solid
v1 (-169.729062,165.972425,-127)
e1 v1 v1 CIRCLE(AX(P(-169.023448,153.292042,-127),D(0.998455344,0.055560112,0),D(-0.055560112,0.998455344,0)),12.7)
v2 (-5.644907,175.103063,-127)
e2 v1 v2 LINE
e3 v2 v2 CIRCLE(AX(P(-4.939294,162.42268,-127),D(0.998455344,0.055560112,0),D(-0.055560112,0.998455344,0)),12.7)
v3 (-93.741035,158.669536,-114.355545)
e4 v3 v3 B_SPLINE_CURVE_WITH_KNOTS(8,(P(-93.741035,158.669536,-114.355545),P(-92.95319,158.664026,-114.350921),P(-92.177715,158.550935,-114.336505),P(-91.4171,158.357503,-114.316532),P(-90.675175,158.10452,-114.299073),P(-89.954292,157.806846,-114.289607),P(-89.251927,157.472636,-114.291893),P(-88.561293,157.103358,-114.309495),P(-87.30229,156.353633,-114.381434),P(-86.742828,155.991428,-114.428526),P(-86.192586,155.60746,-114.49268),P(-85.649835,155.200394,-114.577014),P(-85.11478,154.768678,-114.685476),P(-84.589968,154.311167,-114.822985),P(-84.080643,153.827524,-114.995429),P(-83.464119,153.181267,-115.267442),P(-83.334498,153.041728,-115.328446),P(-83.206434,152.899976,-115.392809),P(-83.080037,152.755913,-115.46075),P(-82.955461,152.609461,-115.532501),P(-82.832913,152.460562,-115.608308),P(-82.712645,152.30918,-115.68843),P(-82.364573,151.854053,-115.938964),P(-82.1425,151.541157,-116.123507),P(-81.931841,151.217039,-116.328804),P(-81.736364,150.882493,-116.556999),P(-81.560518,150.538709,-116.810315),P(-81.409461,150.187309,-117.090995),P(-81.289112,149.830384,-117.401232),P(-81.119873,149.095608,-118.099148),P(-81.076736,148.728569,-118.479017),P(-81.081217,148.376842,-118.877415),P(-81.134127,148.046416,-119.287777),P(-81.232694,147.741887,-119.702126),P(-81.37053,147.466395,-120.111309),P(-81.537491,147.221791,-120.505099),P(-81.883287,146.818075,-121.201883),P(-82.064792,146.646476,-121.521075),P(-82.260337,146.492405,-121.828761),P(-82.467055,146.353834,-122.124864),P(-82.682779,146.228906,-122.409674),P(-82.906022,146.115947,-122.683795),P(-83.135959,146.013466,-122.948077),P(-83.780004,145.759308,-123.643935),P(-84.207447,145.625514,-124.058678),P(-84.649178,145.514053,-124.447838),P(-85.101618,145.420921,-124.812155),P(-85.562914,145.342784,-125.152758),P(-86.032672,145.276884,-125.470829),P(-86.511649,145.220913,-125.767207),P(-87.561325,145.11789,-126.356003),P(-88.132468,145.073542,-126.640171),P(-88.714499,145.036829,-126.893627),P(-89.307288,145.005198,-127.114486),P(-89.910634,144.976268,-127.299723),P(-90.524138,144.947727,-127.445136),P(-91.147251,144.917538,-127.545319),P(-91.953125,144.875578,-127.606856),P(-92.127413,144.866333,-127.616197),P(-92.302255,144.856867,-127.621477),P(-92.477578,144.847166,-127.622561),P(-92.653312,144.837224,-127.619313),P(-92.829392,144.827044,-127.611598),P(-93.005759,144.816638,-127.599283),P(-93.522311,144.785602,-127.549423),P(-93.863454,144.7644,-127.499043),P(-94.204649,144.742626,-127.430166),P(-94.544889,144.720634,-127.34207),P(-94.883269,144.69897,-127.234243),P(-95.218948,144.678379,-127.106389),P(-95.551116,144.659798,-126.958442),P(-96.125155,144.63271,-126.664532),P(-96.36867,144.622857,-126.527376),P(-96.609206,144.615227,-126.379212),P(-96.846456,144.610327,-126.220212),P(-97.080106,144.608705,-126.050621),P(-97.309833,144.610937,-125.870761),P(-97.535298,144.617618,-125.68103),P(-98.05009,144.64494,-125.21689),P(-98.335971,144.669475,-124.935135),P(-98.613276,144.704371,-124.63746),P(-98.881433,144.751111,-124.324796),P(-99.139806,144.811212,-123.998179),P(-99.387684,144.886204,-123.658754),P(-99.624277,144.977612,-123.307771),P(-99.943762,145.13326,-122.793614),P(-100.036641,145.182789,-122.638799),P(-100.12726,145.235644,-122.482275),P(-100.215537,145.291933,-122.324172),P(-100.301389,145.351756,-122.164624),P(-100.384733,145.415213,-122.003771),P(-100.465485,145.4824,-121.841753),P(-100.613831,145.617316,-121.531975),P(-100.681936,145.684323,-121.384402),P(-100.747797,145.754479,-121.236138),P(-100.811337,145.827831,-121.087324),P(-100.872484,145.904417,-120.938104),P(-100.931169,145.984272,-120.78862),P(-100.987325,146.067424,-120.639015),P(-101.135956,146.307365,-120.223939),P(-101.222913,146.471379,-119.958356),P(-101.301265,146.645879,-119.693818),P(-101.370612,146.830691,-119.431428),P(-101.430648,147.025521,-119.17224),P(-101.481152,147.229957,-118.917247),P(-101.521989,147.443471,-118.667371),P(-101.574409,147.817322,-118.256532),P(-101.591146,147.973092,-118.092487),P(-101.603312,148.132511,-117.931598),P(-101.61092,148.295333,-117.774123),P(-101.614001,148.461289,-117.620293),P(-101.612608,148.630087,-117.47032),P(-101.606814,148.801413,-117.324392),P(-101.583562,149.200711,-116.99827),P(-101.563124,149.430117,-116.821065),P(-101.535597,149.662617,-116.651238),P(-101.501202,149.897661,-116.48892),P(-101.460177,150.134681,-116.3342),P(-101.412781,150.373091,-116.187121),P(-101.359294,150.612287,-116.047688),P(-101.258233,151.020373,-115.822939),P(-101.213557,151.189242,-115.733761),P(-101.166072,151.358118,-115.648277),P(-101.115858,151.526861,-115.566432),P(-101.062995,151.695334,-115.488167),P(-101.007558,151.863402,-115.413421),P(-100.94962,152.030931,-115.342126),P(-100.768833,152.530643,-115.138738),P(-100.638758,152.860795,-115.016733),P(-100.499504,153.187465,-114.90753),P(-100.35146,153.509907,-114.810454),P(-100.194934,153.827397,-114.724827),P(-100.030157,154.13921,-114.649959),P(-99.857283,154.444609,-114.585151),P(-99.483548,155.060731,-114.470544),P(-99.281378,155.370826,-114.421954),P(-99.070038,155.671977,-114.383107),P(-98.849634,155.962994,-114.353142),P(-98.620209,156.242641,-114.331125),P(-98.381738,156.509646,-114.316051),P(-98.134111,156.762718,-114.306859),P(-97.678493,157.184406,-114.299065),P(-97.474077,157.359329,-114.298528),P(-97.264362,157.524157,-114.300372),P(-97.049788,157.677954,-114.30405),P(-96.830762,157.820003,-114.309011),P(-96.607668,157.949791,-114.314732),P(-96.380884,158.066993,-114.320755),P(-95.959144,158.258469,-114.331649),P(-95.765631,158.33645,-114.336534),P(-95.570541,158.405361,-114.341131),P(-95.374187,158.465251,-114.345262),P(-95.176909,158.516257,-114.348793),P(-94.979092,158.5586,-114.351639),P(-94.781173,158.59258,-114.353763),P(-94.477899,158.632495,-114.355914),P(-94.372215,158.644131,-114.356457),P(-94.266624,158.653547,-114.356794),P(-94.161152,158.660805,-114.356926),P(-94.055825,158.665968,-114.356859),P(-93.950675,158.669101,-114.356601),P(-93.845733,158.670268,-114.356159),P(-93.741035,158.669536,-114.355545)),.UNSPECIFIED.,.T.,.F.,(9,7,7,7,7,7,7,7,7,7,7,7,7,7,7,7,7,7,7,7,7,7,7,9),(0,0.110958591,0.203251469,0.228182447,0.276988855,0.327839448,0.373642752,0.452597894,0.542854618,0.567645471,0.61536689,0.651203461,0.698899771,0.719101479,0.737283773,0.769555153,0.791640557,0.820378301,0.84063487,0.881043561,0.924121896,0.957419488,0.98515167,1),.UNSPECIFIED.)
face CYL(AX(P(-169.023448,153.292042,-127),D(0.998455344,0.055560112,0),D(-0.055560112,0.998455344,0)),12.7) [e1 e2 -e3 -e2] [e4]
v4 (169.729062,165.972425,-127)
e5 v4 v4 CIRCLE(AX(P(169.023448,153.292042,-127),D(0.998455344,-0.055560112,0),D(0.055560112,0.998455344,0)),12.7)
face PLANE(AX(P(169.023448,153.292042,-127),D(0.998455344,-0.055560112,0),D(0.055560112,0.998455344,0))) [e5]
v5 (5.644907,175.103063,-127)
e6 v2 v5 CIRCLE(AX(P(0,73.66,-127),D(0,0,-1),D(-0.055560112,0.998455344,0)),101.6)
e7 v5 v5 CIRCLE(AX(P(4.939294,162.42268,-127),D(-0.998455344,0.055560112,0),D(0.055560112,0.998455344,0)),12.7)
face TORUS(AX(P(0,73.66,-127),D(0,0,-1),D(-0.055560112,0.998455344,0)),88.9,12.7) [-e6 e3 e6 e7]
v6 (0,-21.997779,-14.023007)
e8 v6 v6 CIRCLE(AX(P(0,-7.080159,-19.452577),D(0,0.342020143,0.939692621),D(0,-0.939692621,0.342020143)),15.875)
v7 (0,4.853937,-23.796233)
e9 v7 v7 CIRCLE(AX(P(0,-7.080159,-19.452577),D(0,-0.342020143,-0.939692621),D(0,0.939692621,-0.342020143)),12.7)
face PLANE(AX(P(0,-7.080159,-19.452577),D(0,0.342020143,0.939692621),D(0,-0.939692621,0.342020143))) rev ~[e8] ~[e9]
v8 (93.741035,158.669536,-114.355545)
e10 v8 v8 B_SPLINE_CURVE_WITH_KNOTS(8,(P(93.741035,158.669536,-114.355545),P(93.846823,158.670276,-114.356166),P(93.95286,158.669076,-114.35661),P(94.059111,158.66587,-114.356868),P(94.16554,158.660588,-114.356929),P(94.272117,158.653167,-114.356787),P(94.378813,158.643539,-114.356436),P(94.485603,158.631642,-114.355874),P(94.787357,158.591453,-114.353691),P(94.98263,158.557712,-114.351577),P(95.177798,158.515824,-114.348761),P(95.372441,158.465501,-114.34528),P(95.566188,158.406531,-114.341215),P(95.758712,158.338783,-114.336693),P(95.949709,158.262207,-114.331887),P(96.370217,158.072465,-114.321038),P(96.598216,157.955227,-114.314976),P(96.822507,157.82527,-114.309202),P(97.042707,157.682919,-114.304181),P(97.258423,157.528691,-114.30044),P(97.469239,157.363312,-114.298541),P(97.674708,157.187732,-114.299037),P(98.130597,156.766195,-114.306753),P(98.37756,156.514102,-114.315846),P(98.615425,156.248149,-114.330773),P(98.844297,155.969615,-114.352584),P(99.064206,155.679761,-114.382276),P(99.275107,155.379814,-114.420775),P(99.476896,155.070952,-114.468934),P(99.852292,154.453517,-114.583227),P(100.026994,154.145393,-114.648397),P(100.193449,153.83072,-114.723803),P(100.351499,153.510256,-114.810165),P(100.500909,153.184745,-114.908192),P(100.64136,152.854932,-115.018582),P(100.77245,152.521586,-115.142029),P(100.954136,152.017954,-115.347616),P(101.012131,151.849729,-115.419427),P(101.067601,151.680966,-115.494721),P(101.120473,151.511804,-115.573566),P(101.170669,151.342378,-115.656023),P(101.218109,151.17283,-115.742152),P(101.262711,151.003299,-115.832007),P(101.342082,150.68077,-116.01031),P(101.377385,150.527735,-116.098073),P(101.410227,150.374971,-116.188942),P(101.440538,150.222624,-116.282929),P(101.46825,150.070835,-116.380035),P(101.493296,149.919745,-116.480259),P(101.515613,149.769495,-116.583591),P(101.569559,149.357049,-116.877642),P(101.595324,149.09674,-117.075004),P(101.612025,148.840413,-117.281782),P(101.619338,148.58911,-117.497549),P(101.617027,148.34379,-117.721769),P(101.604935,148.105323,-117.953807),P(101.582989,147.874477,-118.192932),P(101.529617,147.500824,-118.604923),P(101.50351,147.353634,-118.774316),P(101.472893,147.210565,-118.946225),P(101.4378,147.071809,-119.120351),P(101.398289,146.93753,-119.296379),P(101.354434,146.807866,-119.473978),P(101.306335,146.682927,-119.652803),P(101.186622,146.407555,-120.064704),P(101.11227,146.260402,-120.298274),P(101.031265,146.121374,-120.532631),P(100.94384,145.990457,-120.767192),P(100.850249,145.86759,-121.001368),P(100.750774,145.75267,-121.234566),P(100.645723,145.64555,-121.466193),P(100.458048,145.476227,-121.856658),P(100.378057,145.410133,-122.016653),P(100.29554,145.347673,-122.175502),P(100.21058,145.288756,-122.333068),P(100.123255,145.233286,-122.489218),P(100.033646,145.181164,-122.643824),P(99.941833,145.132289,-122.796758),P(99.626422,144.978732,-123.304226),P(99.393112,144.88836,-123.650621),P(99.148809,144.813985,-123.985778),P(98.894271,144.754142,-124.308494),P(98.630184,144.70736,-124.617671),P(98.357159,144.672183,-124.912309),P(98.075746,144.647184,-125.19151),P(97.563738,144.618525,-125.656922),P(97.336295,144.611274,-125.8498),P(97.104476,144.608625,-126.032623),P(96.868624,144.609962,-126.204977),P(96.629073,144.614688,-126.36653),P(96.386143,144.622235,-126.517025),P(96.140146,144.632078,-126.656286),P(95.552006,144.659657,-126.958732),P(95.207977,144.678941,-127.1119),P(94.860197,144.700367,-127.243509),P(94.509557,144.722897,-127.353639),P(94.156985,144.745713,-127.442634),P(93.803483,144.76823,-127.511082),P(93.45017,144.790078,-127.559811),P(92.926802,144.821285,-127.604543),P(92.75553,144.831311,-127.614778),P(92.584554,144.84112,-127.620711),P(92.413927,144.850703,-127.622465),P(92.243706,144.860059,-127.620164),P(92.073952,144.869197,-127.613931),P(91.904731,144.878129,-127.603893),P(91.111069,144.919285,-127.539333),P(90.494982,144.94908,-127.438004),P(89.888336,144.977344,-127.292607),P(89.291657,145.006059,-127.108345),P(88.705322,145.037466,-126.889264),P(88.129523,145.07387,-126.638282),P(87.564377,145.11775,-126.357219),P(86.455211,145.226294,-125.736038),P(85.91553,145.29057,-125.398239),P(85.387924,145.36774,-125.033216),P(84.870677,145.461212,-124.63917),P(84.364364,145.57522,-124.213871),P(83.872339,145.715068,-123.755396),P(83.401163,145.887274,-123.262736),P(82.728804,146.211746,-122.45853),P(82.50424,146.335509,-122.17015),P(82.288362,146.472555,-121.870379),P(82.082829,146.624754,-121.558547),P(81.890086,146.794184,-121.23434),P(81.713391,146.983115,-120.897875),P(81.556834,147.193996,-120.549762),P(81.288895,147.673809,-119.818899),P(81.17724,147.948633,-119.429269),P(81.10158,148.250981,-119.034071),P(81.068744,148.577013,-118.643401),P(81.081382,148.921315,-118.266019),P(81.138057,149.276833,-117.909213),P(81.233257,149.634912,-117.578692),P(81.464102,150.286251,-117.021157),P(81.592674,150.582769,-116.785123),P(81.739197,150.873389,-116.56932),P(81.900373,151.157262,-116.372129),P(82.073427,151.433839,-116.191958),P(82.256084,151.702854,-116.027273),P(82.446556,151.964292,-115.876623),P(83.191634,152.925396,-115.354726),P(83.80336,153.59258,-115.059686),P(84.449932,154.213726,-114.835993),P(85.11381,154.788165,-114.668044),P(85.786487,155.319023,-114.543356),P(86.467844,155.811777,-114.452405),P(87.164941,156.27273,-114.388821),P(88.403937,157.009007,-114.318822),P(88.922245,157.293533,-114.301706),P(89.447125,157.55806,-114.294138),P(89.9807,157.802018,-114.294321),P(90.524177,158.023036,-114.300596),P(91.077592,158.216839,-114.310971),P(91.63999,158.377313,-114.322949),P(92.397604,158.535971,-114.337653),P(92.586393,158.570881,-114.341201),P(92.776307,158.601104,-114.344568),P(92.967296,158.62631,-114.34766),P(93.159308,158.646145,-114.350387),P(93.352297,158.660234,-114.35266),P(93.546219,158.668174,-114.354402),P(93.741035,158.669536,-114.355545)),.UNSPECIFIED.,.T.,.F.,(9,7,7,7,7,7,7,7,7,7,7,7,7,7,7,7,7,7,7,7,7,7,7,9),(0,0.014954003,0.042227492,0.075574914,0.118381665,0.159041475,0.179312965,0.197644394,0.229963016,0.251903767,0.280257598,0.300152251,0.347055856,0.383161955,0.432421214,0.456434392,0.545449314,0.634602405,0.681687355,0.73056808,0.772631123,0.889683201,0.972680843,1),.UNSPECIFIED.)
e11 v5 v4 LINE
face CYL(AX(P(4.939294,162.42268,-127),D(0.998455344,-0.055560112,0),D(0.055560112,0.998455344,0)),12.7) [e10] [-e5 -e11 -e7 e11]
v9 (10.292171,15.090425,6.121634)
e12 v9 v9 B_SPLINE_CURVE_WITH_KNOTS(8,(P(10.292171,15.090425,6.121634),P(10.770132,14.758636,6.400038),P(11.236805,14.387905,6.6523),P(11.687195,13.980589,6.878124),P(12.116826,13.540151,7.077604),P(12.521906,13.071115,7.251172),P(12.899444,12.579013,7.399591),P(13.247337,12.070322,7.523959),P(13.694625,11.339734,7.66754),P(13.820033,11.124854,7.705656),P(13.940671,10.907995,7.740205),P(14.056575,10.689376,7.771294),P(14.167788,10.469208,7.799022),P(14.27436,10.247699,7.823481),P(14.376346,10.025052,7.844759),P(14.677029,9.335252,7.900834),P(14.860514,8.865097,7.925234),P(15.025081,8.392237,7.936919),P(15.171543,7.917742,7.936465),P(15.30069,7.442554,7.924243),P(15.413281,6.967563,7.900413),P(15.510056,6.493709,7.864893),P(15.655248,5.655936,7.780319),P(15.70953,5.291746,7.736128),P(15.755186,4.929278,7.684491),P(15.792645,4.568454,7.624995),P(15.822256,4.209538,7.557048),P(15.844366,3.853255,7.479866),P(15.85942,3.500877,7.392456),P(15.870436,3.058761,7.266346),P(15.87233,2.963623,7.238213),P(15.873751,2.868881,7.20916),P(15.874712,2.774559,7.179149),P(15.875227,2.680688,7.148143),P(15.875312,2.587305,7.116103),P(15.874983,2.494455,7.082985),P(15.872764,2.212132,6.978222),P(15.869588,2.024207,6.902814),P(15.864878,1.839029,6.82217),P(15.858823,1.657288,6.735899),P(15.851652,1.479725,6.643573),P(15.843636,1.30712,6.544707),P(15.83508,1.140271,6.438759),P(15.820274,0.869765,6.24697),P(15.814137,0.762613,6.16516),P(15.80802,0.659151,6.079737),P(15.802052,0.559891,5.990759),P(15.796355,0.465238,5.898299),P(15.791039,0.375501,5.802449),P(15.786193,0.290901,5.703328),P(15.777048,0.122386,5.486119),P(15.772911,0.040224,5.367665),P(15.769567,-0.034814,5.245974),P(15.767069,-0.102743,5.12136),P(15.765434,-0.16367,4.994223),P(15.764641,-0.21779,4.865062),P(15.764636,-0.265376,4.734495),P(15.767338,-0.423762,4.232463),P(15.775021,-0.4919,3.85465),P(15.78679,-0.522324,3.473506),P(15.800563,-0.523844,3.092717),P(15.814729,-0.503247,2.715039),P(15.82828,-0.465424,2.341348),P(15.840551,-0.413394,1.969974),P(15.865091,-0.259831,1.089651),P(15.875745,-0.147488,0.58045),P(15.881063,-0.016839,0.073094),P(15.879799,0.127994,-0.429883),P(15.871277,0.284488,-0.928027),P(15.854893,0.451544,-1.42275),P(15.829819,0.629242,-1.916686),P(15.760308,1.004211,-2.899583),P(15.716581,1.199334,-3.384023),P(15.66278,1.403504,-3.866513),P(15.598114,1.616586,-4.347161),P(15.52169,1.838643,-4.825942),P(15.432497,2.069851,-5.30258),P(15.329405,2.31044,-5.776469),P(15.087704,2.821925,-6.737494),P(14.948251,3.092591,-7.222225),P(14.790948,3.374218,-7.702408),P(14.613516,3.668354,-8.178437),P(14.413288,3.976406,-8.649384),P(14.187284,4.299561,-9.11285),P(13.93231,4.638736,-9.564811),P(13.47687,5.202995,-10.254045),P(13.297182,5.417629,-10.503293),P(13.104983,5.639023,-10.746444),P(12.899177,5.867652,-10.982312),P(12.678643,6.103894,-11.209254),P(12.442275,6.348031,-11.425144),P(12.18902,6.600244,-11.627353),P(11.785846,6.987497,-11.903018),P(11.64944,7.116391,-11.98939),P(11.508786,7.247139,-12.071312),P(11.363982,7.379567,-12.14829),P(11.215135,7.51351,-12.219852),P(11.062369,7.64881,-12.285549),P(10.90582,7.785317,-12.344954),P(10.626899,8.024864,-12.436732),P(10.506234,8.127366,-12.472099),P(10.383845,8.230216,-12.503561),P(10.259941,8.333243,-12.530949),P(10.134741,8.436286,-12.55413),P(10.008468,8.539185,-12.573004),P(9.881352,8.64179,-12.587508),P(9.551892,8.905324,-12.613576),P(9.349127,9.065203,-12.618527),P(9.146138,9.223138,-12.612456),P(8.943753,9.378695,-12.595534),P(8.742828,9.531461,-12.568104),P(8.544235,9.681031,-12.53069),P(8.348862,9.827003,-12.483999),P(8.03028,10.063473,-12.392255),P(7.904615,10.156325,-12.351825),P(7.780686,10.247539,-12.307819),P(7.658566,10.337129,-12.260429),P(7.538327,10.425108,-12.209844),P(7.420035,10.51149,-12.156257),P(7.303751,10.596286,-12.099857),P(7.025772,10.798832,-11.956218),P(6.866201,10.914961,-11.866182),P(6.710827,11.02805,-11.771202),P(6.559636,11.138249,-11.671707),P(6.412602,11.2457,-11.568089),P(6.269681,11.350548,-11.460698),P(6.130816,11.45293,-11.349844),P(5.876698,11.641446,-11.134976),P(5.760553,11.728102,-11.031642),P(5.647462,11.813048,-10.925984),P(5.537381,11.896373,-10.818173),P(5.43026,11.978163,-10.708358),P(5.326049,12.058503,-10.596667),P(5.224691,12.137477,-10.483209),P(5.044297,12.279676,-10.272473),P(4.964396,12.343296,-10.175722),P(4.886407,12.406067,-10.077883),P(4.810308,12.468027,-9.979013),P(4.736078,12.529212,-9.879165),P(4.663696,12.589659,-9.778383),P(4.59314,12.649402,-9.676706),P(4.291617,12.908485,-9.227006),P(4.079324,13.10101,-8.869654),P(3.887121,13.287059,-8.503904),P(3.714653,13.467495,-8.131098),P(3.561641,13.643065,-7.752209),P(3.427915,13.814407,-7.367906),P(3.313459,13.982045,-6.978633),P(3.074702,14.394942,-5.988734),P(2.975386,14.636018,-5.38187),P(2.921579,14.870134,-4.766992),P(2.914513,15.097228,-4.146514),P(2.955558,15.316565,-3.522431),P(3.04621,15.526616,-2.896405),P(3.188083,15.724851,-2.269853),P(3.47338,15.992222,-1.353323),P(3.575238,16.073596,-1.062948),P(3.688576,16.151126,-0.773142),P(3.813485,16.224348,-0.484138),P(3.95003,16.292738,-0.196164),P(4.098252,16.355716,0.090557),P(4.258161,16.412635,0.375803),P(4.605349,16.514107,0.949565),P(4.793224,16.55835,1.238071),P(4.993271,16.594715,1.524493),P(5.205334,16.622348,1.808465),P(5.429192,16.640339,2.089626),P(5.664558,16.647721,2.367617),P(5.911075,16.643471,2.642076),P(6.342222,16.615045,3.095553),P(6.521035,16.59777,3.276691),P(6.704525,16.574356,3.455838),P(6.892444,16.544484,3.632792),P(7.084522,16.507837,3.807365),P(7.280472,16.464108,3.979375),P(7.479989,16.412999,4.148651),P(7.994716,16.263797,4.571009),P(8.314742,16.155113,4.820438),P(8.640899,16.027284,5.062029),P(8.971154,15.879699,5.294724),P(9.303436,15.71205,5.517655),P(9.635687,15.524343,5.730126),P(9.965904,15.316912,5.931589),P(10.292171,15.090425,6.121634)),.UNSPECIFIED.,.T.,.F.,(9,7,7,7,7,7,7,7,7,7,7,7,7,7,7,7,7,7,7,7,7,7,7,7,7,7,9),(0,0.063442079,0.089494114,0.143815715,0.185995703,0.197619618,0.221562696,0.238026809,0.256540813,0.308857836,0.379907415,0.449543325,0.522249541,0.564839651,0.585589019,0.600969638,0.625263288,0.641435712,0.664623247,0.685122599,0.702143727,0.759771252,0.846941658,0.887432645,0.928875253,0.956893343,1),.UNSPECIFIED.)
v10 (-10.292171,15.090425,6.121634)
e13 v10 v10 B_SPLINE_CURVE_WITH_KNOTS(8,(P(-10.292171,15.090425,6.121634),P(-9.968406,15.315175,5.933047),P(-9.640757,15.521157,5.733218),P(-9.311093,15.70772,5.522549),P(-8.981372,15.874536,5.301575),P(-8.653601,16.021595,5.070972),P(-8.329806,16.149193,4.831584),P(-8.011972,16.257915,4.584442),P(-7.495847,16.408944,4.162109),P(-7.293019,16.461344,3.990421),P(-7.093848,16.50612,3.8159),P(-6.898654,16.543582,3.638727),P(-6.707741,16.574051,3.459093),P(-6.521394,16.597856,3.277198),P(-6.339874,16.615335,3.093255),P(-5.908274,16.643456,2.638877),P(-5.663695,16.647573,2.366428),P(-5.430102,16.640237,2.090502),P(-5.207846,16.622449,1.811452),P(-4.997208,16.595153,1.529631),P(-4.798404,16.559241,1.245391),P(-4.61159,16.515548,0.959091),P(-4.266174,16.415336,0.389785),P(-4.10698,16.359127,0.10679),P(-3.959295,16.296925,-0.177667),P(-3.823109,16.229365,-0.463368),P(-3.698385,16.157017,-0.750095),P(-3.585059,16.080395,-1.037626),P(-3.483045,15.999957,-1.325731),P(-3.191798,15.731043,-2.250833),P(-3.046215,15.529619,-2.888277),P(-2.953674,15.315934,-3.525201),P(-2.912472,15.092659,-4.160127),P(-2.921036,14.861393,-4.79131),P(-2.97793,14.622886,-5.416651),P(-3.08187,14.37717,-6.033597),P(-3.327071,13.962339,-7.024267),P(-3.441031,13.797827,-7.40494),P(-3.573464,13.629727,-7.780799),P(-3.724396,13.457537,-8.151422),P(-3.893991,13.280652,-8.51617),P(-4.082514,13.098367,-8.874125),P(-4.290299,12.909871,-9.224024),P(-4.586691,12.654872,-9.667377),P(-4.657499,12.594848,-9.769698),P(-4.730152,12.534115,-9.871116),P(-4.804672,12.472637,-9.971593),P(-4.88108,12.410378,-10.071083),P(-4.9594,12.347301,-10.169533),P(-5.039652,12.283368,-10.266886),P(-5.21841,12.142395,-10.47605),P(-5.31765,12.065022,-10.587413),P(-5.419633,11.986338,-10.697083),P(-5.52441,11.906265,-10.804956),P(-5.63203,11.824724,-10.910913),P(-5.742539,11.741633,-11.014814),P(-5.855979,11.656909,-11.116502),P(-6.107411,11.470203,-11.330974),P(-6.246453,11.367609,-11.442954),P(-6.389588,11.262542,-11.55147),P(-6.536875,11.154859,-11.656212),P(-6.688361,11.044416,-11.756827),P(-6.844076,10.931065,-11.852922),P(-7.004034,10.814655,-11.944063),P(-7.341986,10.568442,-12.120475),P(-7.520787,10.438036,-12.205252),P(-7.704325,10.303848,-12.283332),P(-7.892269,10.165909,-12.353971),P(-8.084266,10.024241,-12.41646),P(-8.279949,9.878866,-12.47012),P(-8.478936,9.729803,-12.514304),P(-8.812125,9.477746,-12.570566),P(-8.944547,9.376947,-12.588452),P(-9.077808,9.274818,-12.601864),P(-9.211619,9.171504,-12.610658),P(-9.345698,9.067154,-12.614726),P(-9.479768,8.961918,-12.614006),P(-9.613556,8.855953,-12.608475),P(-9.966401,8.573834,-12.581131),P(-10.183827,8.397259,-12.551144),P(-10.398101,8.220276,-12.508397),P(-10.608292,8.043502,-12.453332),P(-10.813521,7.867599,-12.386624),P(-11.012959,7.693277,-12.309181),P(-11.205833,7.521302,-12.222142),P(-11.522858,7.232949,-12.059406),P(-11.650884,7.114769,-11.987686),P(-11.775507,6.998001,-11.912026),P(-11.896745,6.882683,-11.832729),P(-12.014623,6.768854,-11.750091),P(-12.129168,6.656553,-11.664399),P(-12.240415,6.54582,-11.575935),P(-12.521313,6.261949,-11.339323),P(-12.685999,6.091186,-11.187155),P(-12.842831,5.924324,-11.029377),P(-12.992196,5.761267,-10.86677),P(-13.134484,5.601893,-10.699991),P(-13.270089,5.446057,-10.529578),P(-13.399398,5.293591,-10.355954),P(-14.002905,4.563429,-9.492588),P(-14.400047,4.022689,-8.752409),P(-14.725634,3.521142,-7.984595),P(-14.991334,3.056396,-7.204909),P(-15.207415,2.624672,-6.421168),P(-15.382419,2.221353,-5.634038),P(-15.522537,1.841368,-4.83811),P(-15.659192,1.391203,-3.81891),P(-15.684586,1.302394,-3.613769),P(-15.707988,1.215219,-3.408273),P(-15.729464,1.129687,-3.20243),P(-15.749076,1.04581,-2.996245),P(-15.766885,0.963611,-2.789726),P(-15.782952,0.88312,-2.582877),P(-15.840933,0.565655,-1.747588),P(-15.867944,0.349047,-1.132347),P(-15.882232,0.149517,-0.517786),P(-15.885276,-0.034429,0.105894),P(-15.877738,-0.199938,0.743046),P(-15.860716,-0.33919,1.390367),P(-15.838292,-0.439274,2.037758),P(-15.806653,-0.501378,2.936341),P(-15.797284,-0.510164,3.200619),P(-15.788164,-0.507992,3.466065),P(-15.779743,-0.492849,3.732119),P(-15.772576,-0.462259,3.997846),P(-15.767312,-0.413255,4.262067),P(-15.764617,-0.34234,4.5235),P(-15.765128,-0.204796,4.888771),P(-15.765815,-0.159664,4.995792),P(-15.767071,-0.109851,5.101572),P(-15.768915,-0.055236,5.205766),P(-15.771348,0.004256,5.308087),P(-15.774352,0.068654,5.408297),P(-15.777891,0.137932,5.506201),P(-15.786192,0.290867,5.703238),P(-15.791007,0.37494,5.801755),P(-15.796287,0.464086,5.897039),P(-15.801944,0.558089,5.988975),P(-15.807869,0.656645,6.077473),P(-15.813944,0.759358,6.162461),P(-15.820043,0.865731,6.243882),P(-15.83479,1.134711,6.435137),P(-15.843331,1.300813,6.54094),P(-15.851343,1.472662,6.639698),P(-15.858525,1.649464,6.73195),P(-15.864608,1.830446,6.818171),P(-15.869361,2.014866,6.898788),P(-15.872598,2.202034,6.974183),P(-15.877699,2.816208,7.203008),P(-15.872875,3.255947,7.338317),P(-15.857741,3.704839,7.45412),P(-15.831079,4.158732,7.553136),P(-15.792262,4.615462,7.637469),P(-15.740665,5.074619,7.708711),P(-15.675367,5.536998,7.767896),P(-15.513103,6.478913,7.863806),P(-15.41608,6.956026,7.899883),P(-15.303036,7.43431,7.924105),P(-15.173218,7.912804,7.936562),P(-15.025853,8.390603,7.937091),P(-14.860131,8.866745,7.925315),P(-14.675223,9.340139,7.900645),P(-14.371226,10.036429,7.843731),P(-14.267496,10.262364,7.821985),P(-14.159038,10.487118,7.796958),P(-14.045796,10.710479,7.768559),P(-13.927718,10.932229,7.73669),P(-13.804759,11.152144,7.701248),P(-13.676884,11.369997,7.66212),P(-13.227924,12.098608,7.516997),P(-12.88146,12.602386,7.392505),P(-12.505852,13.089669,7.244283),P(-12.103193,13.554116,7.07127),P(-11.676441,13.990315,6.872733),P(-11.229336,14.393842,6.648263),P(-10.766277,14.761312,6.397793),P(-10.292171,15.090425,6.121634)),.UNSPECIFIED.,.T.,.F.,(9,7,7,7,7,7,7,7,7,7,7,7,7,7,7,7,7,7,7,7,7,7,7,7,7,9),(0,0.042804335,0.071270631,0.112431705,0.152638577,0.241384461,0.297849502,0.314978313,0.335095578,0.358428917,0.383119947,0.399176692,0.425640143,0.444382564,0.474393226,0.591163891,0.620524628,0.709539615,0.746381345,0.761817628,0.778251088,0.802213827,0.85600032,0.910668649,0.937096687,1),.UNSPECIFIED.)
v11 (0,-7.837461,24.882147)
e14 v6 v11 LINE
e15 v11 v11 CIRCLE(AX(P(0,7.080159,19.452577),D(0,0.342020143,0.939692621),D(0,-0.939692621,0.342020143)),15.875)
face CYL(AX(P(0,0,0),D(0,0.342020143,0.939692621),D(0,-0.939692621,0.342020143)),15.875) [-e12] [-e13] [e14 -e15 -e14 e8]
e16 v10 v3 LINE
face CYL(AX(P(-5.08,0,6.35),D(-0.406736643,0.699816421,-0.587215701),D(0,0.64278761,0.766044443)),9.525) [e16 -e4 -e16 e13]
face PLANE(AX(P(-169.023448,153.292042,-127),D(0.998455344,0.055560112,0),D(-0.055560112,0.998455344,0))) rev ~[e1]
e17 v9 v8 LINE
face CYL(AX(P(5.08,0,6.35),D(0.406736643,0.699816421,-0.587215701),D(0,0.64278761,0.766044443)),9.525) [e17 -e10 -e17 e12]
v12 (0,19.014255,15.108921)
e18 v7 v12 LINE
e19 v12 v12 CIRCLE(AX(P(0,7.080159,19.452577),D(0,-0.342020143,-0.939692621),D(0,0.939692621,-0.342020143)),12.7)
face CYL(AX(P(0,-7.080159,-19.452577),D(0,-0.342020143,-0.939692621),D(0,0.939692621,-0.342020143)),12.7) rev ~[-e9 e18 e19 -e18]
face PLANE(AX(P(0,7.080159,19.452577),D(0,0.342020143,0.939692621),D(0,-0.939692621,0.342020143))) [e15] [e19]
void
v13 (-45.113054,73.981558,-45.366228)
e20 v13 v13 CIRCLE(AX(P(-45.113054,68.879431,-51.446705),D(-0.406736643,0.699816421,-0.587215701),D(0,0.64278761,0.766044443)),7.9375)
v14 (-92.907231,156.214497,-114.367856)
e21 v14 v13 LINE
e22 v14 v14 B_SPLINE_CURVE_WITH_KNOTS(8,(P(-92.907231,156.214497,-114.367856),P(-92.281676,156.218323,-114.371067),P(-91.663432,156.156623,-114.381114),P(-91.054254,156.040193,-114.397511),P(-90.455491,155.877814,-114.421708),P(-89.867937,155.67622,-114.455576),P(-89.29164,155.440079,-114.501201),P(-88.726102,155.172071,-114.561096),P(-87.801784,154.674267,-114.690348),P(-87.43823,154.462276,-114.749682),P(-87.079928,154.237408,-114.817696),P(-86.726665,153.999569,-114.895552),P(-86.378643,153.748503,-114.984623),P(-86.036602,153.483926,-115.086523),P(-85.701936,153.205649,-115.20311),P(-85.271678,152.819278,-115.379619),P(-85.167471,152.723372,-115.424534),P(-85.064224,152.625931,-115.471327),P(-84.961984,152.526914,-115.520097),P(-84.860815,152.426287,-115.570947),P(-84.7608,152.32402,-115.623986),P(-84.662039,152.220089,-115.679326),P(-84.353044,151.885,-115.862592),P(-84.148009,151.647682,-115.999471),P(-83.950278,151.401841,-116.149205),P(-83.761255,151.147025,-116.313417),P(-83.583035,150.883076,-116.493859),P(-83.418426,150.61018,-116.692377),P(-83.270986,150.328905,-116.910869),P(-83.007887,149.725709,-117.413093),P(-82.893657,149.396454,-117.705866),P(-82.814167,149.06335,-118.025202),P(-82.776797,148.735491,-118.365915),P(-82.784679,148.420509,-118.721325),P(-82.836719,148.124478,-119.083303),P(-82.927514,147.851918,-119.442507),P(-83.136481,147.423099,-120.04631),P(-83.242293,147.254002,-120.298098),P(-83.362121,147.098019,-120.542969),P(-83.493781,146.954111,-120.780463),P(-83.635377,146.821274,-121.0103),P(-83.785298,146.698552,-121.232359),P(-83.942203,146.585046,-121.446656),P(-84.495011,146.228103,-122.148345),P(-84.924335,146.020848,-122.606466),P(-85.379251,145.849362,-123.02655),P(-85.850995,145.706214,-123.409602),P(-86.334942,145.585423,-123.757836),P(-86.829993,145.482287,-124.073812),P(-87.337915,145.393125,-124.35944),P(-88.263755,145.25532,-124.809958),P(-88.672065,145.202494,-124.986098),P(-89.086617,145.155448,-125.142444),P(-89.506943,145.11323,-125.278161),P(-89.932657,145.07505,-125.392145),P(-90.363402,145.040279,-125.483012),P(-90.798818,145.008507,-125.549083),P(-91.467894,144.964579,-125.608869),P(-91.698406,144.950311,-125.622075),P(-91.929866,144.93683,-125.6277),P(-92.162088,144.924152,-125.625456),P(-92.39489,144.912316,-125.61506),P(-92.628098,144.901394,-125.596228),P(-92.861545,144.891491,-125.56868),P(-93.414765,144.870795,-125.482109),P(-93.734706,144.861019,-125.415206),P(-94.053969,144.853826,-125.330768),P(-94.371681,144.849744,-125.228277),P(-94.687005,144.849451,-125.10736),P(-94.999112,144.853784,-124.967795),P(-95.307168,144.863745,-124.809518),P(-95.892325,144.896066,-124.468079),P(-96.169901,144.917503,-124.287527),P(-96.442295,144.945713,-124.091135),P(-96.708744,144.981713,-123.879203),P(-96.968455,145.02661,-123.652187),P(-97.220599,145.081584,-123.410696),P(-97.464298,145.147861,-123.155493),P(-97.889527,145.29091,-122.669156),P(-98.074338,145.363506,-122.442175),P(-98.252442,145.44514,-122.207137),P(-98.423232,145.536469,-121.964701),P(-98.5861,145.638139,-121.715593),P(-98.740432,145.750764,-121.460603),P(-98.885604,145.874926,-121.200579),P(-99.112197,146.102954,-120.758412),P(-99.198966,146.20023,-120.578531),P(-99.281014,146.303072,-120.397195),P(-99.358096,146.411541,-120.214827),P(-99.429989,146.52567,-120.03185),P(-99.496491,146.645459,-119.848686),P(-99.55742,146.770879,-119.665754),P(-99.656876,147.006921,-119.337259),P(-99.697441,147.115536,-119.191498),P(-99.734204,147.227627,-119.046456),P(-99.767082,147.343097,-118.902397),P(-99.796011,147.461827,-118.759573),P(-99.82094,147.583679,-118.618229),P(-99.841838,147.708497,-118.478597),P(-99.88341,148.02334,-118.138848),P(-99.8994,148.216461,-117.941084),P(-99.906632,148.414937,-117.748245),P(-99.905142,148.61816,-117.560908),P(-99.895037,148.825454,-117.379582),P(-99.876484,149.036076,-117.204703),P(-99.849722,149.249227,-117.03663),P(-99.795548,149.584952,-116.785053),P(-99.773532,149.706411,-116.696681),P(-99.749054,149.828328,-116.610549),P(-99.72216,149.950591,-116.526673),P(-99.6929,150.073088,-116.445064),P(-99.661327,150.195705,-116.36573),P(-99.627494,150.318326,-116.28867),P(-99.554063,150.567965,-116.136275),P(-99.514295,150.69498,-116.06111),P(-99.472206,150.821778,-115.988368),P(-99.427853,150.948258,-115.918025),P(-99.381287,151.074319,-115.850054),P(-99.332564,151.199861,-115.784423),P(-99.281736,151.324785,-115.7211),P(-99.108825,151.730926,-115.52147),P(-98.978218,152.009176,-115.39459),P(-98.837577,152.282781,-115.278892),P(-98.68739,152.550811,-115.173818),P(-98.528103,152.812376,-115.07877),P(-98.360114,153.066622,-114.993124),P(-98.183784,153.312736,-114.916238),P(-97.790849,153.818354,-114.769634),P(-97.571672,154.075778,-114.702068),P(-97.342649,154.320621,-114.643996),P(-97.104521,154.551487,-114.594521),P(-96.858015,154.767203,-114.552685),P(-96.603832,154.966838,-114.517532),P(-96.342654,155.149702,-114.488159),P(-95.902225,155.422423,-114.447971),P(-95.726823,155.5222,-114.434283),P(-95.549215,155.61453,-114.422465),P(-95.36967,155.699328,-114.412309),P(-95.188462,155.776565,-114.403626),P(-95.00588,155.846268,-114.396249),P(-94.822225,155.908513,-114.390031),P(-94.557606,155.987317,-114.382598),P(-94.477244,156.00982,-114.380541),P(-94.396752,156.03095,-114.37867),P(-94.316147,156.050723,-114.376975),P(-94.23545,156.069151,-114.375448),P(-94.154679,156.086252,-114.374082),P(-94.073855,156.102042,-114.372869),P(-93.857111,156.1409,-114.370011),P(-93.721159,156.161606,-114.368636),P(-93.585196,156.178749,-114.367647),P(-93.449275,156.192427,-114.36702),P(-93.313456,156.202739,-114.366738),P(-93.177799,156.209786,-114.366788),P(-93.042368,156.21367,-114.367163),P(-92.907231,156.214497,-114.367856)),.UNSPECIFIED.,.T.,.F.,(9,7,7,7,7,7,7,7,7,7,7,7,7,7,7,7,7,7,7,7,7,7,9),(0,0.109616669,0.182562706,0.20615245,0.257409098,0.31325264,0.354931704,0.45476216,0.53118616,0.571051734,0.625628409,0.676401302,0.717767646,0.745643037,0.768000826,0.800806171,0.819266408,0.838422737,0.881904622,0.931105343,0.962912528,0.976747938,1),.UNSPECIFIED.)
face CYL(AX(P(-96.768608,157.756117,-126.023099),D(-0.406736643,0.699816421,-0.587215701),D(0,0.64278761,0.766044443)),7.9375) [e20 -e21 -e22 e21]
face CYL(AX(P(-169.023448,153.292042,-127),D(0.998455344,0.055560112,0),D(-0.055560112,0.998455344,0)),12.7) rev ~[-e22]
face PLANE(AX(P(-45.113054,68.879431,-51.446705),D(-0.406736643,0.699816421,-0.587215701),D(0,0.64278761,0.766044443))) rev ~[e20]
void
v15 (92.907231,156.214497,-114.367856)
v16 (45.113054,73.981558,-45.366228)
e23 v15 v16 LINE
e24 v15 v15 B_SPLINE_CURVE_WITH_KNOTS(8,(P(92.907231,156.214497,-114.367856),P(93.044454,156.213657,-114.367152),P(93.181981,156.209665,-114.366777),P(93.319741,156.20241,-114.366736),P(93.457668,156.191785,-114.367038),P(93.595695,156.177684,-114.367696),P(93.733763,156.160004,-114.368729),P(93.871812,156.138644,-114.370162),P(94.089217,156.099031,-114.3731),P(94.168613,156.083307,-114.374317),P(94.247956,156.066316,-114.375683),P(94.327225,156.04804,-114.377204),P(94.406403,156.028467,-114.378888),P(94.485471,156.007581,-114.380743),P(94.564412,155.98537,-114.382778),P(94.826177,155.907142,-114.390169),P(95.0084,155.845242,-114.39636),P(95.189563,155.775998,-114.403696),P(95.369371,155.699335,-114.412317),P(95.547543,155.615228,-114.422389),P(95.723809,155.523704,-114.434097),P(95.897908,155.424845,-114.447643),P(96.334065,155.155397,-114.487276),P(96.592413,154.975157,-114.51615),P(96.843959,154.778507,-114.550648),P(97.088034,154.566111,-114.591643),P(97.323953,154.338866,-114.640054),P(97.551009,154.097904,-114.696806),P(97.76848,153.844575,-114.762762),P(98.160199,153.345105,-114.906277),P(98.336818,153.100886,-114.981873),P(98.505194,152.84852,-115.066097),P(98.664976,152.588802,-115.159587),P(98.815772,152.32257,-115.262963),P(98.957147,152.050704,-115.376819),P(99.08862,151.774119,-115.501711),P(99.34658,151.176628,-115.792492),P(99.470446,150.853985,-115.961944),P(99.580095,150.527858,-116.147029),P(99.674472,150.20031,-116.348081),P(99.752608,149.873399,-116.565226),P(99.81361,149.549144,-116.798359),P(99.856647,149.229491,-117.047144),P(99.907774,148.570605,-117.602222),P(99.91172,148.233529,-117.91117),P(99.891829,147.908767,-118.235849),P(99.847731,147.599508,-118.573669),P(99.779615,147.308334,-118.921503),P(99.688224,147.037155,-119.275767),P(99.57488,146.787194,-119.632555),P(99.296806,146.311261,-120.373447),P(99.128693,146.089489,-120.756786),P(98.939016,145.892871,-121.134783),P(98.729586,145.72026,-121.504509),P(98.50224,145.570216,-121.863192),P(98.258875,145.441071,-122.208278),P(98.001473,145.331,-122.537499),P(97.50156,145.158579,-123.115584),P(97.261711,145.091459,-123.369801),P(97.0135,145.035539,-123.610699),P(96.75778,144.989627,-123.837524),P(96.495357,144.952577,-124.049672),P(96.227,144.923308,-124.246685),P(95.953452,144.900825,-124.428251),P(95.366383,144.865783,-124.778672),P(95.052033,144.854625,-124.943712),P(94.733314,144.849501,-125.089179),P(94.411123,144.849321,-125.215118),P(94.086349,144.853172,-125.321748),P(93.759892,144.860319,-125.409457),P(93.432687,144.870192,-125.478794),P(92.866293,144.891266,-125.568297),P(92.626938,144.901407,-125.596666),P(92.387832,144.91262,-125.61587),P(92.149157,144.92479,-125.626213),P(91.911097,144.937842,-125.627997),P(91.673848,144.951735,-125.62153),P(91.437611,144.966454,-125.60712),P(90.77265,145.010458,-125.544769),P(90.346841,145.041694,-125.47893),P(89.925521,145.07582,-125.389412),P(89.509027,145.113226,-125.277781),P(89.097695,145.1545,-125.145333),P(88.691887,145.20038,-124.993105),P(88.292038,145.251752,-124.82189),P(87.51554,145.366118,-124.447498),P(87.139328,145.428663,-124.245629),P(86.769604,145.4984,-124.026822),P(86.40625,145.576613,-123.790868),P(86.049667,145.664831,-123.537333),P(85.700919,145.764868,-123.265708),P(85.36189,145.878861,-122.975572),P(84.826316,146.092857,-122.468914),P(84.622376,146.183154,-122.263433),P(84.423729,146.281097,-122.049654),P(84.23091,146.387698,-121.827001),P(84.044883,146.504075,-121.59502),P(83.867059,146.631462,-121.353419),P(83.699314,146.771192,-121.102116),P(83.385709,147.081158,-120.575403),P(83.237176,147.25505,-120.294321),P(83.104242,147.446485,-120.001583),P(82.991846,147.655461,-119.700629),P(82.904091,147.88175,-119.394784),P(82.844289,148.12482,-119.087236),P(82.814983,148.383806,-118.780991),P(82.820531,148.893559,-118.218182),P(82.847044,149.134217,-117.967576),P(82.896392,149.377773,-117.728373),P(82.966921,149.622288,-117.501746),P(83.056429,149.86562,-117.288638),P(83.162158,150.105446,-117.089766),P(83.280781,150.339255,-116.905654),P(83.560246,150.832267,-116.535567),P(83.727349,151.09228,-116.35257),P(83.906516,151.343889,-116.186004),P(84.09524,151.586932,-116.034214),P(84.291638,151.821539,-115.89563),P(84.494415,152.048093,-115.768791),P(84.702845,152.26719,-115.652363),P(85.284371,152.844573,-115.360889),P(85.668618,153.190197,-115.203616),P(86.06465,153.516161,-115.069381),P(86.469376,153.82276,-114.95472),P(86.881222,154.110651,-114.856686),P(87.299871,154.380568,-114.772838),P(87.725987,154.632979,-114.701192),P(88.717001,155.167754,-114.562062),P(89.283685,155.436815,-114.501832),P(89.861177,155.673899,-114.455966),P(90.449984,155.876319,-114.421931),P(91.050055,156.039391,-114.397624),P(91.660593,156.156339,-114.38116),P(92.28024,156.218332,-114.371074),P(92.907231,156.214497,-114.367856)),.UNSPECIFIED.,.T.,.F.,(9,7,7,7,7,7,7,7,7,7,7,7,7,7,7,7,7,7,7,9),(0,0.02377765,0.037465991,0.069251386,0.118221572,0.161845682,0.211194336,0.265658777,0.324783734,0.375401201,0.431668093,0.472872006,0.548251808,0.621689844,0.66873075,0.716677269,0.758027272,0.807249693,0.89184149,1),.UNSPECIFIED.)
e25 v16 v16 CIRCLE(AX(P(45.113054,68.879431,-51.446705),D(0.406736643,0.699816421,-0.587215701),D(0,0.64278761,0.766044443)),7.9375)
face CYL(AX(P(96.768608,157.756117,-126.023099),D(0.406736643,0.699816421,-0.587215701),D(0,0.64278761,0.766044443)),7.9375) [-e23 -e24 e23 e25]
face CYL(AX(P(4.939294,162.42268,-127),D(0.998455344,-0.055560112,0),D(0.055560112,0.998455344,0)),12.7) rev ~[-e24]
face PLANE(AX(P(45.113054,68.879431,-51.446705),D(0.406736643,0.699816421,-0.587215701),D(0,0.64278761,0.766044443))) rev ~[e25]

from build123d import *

# Parameters (mm, degrees)
SKETCH1_R           = 15.875
BOSS_EXTRUDE1_DEPTH = 20.701
SWEEP1_PROFILE_R    = 9.525
SWEEP2_PROFILE_R    = 9.525
CUT_EXTRUDE1_REACH  = 233.612
SKETCH2_R           = 12.7
SKETCH36_R          = 7.9375
CUT_EXTRUDE2_DEPTH  = 127
SKETCH37_R          = 7.9375
CUT_EXTRUDE3_DEPTH  = 127
SWEEP3_PROFILE_R    = 12.7


with BuildPart() as part:
    # Sketch1 → Boss-Extrude1 (new, symmetric)
    with BuildSketch(Plane(origin=(0, 0, 0), x_dir=(1, 0, 0), z_dir=(0, 0.34202014332566943, 0.9396926207859081))):
        with Locations(Location((0, 0, 0), (0, 0, 270))):
            Circle(SKETCH1_R)
    extrude(amount=BOSS_EXTRUDE1_DEPTH, both=True)

    # Sweep1: sweep along a path in Sketch4
    with BuildLine(Plane(origin=(0, 3.126764616, 3.726332964), x_dir=(1, 0, 0), z_dir=(0, 0.6427876096865406, 0.7660444431189771))) as sweep1_path:
        Line((-5.08, -4.081701322), (-96.768607765, 201.854283468))
    # Sweep1 profile (on start of the path) → Sweep1 (sweep)
    with BuildSketch(Plane(origin=(-5.08, 0, 6.35), x_dir=(0, 0.6427876096865406, 0.7660444431189771), z_dir=(-0.4067366430758009, 0.6998164213636971, -0.5872157010580841))):
        Circle(SWEEP1_PROFILE_R)
    sweep(path=sweep1_path.line)

    # Sweep2: sweep along a path in Sketch15
    with BuildLine(Plane(origin=(0, 3.126764616, 3.726332964), x_dir=(1, 0, 0), z_dir=(0, 0.6427876096865406, 0.7660444431189771))) as sweep2_path:
        Line((5.08, -4.081701322), (96.768607765, 201.854283468))
    # Sweep2 profile (on start of the path) → Sweep2 (sweep)
    with BuildSketch(Plane(origin=(5.08, 0, 6.35), x_dir=(0, 0.6427876096865406, 0.766044443118977), z_dir=(0.40673664307580104, 0.6998164213636969, -0.587215701058084))):
        Circle(SWEEP2_PROFILE_R)
    sweep(path=sweep2_path.line)

    # Sketch2 → Cut-Extrude1 (cut, up to next)
    with BuildSketch(Plane(origin=(0, -7.080158987, -19.452576943), x_dir=(-1, 0, 0), z_dir=(0, -0.34202014332566943, -0.9396926207859081)), mode=Mode.PRIVATE) as cut_extrude1_sk1:
        with Locations(Location((0, 0, 0), (0, 0, 90))):
            Circle(SKETCH2_R)
    cut_extrude1_tool1 = extrude(cut_extrude1_sk1.sketch, amount=-CUT_EXTRUDE1_REACH, mode=Mode.PRIVATE) & part.part
    add(cut_extrude1_tool1.solids().sort_by_distance((0, -7.080159, -19.452577))[0], mode=Mode.SUBTRACT)

    # Sketch36 → Cut-Extrude2 (cut)
    with BuildSketch(Plane(origin=(-91.012368417, 156.592603715, -131.396796022), x_dir=(0.9135454576426006, 0.31157834524108413, -0.2614452745746218), z_dir=(-0.40673664307580104, 0.699816421363697, -0.5872157010580841))):
        with Locations(Location((-6.300988418, -4.864382214, 0), (0, 0, 270))):
            Circle(SKETCH36_R)
    extrude(amount=-CUT_EXTRUDE2_DEPTH, mode=Mode.SUBTRACT)

    # Sketch37 → Cut-Extrude3 (cut)
    with BuildSketch(Plane(origin=(91.012368417, 156.592603715, -131.396796022), x_dir=(0.9135454576426006, -0.3115783452410842, 0.2614452745746218), z_dir=(0.40673664307580104, 0.6998164213636969, -0.587215701058084))):
        with Locations(Location((6.300988418, -4.864382214, 0), (0, 0, 270))):
            Circle(SKETCH37_R)
    extrude(amount=-CUT_EXTRUDE3_DEPTH, mode=Mode.SUBTRACT)

    # Sweep3: sweep along a path in Sketch40
    with BuildLine(Plane(origin=(-106.934, 0, -127), x_dir=(1, 0, 0), z_dir=(0, 0, 1))) as sweep3_path:
        Line((-62.089448271, 153.292042412), (101.994706052, 162.422680082))
        ThreePointArc((101.994706052, 162.422680082), (106.934, 162.56), (111.873293948, 162.422680082))
        Line((111.873293948, 162.422680082), (275.957448271, 153.292042412))
    # Sweep3 profile (on start of the path) → Sweep3 (sweep)
    with BuildSketch(Plane(origin=(-169.023448271, 153.292042412, -127), x_dir=(-0.055560111902353555, 0.9984553440016224, 0), z_dir=(0.9984553440016224, 0.055560111902353555, 0))):
        Circle(SWEEP3_PROFILE_R)
    sweep(path=sweep3_path.line)


solid = part.part
